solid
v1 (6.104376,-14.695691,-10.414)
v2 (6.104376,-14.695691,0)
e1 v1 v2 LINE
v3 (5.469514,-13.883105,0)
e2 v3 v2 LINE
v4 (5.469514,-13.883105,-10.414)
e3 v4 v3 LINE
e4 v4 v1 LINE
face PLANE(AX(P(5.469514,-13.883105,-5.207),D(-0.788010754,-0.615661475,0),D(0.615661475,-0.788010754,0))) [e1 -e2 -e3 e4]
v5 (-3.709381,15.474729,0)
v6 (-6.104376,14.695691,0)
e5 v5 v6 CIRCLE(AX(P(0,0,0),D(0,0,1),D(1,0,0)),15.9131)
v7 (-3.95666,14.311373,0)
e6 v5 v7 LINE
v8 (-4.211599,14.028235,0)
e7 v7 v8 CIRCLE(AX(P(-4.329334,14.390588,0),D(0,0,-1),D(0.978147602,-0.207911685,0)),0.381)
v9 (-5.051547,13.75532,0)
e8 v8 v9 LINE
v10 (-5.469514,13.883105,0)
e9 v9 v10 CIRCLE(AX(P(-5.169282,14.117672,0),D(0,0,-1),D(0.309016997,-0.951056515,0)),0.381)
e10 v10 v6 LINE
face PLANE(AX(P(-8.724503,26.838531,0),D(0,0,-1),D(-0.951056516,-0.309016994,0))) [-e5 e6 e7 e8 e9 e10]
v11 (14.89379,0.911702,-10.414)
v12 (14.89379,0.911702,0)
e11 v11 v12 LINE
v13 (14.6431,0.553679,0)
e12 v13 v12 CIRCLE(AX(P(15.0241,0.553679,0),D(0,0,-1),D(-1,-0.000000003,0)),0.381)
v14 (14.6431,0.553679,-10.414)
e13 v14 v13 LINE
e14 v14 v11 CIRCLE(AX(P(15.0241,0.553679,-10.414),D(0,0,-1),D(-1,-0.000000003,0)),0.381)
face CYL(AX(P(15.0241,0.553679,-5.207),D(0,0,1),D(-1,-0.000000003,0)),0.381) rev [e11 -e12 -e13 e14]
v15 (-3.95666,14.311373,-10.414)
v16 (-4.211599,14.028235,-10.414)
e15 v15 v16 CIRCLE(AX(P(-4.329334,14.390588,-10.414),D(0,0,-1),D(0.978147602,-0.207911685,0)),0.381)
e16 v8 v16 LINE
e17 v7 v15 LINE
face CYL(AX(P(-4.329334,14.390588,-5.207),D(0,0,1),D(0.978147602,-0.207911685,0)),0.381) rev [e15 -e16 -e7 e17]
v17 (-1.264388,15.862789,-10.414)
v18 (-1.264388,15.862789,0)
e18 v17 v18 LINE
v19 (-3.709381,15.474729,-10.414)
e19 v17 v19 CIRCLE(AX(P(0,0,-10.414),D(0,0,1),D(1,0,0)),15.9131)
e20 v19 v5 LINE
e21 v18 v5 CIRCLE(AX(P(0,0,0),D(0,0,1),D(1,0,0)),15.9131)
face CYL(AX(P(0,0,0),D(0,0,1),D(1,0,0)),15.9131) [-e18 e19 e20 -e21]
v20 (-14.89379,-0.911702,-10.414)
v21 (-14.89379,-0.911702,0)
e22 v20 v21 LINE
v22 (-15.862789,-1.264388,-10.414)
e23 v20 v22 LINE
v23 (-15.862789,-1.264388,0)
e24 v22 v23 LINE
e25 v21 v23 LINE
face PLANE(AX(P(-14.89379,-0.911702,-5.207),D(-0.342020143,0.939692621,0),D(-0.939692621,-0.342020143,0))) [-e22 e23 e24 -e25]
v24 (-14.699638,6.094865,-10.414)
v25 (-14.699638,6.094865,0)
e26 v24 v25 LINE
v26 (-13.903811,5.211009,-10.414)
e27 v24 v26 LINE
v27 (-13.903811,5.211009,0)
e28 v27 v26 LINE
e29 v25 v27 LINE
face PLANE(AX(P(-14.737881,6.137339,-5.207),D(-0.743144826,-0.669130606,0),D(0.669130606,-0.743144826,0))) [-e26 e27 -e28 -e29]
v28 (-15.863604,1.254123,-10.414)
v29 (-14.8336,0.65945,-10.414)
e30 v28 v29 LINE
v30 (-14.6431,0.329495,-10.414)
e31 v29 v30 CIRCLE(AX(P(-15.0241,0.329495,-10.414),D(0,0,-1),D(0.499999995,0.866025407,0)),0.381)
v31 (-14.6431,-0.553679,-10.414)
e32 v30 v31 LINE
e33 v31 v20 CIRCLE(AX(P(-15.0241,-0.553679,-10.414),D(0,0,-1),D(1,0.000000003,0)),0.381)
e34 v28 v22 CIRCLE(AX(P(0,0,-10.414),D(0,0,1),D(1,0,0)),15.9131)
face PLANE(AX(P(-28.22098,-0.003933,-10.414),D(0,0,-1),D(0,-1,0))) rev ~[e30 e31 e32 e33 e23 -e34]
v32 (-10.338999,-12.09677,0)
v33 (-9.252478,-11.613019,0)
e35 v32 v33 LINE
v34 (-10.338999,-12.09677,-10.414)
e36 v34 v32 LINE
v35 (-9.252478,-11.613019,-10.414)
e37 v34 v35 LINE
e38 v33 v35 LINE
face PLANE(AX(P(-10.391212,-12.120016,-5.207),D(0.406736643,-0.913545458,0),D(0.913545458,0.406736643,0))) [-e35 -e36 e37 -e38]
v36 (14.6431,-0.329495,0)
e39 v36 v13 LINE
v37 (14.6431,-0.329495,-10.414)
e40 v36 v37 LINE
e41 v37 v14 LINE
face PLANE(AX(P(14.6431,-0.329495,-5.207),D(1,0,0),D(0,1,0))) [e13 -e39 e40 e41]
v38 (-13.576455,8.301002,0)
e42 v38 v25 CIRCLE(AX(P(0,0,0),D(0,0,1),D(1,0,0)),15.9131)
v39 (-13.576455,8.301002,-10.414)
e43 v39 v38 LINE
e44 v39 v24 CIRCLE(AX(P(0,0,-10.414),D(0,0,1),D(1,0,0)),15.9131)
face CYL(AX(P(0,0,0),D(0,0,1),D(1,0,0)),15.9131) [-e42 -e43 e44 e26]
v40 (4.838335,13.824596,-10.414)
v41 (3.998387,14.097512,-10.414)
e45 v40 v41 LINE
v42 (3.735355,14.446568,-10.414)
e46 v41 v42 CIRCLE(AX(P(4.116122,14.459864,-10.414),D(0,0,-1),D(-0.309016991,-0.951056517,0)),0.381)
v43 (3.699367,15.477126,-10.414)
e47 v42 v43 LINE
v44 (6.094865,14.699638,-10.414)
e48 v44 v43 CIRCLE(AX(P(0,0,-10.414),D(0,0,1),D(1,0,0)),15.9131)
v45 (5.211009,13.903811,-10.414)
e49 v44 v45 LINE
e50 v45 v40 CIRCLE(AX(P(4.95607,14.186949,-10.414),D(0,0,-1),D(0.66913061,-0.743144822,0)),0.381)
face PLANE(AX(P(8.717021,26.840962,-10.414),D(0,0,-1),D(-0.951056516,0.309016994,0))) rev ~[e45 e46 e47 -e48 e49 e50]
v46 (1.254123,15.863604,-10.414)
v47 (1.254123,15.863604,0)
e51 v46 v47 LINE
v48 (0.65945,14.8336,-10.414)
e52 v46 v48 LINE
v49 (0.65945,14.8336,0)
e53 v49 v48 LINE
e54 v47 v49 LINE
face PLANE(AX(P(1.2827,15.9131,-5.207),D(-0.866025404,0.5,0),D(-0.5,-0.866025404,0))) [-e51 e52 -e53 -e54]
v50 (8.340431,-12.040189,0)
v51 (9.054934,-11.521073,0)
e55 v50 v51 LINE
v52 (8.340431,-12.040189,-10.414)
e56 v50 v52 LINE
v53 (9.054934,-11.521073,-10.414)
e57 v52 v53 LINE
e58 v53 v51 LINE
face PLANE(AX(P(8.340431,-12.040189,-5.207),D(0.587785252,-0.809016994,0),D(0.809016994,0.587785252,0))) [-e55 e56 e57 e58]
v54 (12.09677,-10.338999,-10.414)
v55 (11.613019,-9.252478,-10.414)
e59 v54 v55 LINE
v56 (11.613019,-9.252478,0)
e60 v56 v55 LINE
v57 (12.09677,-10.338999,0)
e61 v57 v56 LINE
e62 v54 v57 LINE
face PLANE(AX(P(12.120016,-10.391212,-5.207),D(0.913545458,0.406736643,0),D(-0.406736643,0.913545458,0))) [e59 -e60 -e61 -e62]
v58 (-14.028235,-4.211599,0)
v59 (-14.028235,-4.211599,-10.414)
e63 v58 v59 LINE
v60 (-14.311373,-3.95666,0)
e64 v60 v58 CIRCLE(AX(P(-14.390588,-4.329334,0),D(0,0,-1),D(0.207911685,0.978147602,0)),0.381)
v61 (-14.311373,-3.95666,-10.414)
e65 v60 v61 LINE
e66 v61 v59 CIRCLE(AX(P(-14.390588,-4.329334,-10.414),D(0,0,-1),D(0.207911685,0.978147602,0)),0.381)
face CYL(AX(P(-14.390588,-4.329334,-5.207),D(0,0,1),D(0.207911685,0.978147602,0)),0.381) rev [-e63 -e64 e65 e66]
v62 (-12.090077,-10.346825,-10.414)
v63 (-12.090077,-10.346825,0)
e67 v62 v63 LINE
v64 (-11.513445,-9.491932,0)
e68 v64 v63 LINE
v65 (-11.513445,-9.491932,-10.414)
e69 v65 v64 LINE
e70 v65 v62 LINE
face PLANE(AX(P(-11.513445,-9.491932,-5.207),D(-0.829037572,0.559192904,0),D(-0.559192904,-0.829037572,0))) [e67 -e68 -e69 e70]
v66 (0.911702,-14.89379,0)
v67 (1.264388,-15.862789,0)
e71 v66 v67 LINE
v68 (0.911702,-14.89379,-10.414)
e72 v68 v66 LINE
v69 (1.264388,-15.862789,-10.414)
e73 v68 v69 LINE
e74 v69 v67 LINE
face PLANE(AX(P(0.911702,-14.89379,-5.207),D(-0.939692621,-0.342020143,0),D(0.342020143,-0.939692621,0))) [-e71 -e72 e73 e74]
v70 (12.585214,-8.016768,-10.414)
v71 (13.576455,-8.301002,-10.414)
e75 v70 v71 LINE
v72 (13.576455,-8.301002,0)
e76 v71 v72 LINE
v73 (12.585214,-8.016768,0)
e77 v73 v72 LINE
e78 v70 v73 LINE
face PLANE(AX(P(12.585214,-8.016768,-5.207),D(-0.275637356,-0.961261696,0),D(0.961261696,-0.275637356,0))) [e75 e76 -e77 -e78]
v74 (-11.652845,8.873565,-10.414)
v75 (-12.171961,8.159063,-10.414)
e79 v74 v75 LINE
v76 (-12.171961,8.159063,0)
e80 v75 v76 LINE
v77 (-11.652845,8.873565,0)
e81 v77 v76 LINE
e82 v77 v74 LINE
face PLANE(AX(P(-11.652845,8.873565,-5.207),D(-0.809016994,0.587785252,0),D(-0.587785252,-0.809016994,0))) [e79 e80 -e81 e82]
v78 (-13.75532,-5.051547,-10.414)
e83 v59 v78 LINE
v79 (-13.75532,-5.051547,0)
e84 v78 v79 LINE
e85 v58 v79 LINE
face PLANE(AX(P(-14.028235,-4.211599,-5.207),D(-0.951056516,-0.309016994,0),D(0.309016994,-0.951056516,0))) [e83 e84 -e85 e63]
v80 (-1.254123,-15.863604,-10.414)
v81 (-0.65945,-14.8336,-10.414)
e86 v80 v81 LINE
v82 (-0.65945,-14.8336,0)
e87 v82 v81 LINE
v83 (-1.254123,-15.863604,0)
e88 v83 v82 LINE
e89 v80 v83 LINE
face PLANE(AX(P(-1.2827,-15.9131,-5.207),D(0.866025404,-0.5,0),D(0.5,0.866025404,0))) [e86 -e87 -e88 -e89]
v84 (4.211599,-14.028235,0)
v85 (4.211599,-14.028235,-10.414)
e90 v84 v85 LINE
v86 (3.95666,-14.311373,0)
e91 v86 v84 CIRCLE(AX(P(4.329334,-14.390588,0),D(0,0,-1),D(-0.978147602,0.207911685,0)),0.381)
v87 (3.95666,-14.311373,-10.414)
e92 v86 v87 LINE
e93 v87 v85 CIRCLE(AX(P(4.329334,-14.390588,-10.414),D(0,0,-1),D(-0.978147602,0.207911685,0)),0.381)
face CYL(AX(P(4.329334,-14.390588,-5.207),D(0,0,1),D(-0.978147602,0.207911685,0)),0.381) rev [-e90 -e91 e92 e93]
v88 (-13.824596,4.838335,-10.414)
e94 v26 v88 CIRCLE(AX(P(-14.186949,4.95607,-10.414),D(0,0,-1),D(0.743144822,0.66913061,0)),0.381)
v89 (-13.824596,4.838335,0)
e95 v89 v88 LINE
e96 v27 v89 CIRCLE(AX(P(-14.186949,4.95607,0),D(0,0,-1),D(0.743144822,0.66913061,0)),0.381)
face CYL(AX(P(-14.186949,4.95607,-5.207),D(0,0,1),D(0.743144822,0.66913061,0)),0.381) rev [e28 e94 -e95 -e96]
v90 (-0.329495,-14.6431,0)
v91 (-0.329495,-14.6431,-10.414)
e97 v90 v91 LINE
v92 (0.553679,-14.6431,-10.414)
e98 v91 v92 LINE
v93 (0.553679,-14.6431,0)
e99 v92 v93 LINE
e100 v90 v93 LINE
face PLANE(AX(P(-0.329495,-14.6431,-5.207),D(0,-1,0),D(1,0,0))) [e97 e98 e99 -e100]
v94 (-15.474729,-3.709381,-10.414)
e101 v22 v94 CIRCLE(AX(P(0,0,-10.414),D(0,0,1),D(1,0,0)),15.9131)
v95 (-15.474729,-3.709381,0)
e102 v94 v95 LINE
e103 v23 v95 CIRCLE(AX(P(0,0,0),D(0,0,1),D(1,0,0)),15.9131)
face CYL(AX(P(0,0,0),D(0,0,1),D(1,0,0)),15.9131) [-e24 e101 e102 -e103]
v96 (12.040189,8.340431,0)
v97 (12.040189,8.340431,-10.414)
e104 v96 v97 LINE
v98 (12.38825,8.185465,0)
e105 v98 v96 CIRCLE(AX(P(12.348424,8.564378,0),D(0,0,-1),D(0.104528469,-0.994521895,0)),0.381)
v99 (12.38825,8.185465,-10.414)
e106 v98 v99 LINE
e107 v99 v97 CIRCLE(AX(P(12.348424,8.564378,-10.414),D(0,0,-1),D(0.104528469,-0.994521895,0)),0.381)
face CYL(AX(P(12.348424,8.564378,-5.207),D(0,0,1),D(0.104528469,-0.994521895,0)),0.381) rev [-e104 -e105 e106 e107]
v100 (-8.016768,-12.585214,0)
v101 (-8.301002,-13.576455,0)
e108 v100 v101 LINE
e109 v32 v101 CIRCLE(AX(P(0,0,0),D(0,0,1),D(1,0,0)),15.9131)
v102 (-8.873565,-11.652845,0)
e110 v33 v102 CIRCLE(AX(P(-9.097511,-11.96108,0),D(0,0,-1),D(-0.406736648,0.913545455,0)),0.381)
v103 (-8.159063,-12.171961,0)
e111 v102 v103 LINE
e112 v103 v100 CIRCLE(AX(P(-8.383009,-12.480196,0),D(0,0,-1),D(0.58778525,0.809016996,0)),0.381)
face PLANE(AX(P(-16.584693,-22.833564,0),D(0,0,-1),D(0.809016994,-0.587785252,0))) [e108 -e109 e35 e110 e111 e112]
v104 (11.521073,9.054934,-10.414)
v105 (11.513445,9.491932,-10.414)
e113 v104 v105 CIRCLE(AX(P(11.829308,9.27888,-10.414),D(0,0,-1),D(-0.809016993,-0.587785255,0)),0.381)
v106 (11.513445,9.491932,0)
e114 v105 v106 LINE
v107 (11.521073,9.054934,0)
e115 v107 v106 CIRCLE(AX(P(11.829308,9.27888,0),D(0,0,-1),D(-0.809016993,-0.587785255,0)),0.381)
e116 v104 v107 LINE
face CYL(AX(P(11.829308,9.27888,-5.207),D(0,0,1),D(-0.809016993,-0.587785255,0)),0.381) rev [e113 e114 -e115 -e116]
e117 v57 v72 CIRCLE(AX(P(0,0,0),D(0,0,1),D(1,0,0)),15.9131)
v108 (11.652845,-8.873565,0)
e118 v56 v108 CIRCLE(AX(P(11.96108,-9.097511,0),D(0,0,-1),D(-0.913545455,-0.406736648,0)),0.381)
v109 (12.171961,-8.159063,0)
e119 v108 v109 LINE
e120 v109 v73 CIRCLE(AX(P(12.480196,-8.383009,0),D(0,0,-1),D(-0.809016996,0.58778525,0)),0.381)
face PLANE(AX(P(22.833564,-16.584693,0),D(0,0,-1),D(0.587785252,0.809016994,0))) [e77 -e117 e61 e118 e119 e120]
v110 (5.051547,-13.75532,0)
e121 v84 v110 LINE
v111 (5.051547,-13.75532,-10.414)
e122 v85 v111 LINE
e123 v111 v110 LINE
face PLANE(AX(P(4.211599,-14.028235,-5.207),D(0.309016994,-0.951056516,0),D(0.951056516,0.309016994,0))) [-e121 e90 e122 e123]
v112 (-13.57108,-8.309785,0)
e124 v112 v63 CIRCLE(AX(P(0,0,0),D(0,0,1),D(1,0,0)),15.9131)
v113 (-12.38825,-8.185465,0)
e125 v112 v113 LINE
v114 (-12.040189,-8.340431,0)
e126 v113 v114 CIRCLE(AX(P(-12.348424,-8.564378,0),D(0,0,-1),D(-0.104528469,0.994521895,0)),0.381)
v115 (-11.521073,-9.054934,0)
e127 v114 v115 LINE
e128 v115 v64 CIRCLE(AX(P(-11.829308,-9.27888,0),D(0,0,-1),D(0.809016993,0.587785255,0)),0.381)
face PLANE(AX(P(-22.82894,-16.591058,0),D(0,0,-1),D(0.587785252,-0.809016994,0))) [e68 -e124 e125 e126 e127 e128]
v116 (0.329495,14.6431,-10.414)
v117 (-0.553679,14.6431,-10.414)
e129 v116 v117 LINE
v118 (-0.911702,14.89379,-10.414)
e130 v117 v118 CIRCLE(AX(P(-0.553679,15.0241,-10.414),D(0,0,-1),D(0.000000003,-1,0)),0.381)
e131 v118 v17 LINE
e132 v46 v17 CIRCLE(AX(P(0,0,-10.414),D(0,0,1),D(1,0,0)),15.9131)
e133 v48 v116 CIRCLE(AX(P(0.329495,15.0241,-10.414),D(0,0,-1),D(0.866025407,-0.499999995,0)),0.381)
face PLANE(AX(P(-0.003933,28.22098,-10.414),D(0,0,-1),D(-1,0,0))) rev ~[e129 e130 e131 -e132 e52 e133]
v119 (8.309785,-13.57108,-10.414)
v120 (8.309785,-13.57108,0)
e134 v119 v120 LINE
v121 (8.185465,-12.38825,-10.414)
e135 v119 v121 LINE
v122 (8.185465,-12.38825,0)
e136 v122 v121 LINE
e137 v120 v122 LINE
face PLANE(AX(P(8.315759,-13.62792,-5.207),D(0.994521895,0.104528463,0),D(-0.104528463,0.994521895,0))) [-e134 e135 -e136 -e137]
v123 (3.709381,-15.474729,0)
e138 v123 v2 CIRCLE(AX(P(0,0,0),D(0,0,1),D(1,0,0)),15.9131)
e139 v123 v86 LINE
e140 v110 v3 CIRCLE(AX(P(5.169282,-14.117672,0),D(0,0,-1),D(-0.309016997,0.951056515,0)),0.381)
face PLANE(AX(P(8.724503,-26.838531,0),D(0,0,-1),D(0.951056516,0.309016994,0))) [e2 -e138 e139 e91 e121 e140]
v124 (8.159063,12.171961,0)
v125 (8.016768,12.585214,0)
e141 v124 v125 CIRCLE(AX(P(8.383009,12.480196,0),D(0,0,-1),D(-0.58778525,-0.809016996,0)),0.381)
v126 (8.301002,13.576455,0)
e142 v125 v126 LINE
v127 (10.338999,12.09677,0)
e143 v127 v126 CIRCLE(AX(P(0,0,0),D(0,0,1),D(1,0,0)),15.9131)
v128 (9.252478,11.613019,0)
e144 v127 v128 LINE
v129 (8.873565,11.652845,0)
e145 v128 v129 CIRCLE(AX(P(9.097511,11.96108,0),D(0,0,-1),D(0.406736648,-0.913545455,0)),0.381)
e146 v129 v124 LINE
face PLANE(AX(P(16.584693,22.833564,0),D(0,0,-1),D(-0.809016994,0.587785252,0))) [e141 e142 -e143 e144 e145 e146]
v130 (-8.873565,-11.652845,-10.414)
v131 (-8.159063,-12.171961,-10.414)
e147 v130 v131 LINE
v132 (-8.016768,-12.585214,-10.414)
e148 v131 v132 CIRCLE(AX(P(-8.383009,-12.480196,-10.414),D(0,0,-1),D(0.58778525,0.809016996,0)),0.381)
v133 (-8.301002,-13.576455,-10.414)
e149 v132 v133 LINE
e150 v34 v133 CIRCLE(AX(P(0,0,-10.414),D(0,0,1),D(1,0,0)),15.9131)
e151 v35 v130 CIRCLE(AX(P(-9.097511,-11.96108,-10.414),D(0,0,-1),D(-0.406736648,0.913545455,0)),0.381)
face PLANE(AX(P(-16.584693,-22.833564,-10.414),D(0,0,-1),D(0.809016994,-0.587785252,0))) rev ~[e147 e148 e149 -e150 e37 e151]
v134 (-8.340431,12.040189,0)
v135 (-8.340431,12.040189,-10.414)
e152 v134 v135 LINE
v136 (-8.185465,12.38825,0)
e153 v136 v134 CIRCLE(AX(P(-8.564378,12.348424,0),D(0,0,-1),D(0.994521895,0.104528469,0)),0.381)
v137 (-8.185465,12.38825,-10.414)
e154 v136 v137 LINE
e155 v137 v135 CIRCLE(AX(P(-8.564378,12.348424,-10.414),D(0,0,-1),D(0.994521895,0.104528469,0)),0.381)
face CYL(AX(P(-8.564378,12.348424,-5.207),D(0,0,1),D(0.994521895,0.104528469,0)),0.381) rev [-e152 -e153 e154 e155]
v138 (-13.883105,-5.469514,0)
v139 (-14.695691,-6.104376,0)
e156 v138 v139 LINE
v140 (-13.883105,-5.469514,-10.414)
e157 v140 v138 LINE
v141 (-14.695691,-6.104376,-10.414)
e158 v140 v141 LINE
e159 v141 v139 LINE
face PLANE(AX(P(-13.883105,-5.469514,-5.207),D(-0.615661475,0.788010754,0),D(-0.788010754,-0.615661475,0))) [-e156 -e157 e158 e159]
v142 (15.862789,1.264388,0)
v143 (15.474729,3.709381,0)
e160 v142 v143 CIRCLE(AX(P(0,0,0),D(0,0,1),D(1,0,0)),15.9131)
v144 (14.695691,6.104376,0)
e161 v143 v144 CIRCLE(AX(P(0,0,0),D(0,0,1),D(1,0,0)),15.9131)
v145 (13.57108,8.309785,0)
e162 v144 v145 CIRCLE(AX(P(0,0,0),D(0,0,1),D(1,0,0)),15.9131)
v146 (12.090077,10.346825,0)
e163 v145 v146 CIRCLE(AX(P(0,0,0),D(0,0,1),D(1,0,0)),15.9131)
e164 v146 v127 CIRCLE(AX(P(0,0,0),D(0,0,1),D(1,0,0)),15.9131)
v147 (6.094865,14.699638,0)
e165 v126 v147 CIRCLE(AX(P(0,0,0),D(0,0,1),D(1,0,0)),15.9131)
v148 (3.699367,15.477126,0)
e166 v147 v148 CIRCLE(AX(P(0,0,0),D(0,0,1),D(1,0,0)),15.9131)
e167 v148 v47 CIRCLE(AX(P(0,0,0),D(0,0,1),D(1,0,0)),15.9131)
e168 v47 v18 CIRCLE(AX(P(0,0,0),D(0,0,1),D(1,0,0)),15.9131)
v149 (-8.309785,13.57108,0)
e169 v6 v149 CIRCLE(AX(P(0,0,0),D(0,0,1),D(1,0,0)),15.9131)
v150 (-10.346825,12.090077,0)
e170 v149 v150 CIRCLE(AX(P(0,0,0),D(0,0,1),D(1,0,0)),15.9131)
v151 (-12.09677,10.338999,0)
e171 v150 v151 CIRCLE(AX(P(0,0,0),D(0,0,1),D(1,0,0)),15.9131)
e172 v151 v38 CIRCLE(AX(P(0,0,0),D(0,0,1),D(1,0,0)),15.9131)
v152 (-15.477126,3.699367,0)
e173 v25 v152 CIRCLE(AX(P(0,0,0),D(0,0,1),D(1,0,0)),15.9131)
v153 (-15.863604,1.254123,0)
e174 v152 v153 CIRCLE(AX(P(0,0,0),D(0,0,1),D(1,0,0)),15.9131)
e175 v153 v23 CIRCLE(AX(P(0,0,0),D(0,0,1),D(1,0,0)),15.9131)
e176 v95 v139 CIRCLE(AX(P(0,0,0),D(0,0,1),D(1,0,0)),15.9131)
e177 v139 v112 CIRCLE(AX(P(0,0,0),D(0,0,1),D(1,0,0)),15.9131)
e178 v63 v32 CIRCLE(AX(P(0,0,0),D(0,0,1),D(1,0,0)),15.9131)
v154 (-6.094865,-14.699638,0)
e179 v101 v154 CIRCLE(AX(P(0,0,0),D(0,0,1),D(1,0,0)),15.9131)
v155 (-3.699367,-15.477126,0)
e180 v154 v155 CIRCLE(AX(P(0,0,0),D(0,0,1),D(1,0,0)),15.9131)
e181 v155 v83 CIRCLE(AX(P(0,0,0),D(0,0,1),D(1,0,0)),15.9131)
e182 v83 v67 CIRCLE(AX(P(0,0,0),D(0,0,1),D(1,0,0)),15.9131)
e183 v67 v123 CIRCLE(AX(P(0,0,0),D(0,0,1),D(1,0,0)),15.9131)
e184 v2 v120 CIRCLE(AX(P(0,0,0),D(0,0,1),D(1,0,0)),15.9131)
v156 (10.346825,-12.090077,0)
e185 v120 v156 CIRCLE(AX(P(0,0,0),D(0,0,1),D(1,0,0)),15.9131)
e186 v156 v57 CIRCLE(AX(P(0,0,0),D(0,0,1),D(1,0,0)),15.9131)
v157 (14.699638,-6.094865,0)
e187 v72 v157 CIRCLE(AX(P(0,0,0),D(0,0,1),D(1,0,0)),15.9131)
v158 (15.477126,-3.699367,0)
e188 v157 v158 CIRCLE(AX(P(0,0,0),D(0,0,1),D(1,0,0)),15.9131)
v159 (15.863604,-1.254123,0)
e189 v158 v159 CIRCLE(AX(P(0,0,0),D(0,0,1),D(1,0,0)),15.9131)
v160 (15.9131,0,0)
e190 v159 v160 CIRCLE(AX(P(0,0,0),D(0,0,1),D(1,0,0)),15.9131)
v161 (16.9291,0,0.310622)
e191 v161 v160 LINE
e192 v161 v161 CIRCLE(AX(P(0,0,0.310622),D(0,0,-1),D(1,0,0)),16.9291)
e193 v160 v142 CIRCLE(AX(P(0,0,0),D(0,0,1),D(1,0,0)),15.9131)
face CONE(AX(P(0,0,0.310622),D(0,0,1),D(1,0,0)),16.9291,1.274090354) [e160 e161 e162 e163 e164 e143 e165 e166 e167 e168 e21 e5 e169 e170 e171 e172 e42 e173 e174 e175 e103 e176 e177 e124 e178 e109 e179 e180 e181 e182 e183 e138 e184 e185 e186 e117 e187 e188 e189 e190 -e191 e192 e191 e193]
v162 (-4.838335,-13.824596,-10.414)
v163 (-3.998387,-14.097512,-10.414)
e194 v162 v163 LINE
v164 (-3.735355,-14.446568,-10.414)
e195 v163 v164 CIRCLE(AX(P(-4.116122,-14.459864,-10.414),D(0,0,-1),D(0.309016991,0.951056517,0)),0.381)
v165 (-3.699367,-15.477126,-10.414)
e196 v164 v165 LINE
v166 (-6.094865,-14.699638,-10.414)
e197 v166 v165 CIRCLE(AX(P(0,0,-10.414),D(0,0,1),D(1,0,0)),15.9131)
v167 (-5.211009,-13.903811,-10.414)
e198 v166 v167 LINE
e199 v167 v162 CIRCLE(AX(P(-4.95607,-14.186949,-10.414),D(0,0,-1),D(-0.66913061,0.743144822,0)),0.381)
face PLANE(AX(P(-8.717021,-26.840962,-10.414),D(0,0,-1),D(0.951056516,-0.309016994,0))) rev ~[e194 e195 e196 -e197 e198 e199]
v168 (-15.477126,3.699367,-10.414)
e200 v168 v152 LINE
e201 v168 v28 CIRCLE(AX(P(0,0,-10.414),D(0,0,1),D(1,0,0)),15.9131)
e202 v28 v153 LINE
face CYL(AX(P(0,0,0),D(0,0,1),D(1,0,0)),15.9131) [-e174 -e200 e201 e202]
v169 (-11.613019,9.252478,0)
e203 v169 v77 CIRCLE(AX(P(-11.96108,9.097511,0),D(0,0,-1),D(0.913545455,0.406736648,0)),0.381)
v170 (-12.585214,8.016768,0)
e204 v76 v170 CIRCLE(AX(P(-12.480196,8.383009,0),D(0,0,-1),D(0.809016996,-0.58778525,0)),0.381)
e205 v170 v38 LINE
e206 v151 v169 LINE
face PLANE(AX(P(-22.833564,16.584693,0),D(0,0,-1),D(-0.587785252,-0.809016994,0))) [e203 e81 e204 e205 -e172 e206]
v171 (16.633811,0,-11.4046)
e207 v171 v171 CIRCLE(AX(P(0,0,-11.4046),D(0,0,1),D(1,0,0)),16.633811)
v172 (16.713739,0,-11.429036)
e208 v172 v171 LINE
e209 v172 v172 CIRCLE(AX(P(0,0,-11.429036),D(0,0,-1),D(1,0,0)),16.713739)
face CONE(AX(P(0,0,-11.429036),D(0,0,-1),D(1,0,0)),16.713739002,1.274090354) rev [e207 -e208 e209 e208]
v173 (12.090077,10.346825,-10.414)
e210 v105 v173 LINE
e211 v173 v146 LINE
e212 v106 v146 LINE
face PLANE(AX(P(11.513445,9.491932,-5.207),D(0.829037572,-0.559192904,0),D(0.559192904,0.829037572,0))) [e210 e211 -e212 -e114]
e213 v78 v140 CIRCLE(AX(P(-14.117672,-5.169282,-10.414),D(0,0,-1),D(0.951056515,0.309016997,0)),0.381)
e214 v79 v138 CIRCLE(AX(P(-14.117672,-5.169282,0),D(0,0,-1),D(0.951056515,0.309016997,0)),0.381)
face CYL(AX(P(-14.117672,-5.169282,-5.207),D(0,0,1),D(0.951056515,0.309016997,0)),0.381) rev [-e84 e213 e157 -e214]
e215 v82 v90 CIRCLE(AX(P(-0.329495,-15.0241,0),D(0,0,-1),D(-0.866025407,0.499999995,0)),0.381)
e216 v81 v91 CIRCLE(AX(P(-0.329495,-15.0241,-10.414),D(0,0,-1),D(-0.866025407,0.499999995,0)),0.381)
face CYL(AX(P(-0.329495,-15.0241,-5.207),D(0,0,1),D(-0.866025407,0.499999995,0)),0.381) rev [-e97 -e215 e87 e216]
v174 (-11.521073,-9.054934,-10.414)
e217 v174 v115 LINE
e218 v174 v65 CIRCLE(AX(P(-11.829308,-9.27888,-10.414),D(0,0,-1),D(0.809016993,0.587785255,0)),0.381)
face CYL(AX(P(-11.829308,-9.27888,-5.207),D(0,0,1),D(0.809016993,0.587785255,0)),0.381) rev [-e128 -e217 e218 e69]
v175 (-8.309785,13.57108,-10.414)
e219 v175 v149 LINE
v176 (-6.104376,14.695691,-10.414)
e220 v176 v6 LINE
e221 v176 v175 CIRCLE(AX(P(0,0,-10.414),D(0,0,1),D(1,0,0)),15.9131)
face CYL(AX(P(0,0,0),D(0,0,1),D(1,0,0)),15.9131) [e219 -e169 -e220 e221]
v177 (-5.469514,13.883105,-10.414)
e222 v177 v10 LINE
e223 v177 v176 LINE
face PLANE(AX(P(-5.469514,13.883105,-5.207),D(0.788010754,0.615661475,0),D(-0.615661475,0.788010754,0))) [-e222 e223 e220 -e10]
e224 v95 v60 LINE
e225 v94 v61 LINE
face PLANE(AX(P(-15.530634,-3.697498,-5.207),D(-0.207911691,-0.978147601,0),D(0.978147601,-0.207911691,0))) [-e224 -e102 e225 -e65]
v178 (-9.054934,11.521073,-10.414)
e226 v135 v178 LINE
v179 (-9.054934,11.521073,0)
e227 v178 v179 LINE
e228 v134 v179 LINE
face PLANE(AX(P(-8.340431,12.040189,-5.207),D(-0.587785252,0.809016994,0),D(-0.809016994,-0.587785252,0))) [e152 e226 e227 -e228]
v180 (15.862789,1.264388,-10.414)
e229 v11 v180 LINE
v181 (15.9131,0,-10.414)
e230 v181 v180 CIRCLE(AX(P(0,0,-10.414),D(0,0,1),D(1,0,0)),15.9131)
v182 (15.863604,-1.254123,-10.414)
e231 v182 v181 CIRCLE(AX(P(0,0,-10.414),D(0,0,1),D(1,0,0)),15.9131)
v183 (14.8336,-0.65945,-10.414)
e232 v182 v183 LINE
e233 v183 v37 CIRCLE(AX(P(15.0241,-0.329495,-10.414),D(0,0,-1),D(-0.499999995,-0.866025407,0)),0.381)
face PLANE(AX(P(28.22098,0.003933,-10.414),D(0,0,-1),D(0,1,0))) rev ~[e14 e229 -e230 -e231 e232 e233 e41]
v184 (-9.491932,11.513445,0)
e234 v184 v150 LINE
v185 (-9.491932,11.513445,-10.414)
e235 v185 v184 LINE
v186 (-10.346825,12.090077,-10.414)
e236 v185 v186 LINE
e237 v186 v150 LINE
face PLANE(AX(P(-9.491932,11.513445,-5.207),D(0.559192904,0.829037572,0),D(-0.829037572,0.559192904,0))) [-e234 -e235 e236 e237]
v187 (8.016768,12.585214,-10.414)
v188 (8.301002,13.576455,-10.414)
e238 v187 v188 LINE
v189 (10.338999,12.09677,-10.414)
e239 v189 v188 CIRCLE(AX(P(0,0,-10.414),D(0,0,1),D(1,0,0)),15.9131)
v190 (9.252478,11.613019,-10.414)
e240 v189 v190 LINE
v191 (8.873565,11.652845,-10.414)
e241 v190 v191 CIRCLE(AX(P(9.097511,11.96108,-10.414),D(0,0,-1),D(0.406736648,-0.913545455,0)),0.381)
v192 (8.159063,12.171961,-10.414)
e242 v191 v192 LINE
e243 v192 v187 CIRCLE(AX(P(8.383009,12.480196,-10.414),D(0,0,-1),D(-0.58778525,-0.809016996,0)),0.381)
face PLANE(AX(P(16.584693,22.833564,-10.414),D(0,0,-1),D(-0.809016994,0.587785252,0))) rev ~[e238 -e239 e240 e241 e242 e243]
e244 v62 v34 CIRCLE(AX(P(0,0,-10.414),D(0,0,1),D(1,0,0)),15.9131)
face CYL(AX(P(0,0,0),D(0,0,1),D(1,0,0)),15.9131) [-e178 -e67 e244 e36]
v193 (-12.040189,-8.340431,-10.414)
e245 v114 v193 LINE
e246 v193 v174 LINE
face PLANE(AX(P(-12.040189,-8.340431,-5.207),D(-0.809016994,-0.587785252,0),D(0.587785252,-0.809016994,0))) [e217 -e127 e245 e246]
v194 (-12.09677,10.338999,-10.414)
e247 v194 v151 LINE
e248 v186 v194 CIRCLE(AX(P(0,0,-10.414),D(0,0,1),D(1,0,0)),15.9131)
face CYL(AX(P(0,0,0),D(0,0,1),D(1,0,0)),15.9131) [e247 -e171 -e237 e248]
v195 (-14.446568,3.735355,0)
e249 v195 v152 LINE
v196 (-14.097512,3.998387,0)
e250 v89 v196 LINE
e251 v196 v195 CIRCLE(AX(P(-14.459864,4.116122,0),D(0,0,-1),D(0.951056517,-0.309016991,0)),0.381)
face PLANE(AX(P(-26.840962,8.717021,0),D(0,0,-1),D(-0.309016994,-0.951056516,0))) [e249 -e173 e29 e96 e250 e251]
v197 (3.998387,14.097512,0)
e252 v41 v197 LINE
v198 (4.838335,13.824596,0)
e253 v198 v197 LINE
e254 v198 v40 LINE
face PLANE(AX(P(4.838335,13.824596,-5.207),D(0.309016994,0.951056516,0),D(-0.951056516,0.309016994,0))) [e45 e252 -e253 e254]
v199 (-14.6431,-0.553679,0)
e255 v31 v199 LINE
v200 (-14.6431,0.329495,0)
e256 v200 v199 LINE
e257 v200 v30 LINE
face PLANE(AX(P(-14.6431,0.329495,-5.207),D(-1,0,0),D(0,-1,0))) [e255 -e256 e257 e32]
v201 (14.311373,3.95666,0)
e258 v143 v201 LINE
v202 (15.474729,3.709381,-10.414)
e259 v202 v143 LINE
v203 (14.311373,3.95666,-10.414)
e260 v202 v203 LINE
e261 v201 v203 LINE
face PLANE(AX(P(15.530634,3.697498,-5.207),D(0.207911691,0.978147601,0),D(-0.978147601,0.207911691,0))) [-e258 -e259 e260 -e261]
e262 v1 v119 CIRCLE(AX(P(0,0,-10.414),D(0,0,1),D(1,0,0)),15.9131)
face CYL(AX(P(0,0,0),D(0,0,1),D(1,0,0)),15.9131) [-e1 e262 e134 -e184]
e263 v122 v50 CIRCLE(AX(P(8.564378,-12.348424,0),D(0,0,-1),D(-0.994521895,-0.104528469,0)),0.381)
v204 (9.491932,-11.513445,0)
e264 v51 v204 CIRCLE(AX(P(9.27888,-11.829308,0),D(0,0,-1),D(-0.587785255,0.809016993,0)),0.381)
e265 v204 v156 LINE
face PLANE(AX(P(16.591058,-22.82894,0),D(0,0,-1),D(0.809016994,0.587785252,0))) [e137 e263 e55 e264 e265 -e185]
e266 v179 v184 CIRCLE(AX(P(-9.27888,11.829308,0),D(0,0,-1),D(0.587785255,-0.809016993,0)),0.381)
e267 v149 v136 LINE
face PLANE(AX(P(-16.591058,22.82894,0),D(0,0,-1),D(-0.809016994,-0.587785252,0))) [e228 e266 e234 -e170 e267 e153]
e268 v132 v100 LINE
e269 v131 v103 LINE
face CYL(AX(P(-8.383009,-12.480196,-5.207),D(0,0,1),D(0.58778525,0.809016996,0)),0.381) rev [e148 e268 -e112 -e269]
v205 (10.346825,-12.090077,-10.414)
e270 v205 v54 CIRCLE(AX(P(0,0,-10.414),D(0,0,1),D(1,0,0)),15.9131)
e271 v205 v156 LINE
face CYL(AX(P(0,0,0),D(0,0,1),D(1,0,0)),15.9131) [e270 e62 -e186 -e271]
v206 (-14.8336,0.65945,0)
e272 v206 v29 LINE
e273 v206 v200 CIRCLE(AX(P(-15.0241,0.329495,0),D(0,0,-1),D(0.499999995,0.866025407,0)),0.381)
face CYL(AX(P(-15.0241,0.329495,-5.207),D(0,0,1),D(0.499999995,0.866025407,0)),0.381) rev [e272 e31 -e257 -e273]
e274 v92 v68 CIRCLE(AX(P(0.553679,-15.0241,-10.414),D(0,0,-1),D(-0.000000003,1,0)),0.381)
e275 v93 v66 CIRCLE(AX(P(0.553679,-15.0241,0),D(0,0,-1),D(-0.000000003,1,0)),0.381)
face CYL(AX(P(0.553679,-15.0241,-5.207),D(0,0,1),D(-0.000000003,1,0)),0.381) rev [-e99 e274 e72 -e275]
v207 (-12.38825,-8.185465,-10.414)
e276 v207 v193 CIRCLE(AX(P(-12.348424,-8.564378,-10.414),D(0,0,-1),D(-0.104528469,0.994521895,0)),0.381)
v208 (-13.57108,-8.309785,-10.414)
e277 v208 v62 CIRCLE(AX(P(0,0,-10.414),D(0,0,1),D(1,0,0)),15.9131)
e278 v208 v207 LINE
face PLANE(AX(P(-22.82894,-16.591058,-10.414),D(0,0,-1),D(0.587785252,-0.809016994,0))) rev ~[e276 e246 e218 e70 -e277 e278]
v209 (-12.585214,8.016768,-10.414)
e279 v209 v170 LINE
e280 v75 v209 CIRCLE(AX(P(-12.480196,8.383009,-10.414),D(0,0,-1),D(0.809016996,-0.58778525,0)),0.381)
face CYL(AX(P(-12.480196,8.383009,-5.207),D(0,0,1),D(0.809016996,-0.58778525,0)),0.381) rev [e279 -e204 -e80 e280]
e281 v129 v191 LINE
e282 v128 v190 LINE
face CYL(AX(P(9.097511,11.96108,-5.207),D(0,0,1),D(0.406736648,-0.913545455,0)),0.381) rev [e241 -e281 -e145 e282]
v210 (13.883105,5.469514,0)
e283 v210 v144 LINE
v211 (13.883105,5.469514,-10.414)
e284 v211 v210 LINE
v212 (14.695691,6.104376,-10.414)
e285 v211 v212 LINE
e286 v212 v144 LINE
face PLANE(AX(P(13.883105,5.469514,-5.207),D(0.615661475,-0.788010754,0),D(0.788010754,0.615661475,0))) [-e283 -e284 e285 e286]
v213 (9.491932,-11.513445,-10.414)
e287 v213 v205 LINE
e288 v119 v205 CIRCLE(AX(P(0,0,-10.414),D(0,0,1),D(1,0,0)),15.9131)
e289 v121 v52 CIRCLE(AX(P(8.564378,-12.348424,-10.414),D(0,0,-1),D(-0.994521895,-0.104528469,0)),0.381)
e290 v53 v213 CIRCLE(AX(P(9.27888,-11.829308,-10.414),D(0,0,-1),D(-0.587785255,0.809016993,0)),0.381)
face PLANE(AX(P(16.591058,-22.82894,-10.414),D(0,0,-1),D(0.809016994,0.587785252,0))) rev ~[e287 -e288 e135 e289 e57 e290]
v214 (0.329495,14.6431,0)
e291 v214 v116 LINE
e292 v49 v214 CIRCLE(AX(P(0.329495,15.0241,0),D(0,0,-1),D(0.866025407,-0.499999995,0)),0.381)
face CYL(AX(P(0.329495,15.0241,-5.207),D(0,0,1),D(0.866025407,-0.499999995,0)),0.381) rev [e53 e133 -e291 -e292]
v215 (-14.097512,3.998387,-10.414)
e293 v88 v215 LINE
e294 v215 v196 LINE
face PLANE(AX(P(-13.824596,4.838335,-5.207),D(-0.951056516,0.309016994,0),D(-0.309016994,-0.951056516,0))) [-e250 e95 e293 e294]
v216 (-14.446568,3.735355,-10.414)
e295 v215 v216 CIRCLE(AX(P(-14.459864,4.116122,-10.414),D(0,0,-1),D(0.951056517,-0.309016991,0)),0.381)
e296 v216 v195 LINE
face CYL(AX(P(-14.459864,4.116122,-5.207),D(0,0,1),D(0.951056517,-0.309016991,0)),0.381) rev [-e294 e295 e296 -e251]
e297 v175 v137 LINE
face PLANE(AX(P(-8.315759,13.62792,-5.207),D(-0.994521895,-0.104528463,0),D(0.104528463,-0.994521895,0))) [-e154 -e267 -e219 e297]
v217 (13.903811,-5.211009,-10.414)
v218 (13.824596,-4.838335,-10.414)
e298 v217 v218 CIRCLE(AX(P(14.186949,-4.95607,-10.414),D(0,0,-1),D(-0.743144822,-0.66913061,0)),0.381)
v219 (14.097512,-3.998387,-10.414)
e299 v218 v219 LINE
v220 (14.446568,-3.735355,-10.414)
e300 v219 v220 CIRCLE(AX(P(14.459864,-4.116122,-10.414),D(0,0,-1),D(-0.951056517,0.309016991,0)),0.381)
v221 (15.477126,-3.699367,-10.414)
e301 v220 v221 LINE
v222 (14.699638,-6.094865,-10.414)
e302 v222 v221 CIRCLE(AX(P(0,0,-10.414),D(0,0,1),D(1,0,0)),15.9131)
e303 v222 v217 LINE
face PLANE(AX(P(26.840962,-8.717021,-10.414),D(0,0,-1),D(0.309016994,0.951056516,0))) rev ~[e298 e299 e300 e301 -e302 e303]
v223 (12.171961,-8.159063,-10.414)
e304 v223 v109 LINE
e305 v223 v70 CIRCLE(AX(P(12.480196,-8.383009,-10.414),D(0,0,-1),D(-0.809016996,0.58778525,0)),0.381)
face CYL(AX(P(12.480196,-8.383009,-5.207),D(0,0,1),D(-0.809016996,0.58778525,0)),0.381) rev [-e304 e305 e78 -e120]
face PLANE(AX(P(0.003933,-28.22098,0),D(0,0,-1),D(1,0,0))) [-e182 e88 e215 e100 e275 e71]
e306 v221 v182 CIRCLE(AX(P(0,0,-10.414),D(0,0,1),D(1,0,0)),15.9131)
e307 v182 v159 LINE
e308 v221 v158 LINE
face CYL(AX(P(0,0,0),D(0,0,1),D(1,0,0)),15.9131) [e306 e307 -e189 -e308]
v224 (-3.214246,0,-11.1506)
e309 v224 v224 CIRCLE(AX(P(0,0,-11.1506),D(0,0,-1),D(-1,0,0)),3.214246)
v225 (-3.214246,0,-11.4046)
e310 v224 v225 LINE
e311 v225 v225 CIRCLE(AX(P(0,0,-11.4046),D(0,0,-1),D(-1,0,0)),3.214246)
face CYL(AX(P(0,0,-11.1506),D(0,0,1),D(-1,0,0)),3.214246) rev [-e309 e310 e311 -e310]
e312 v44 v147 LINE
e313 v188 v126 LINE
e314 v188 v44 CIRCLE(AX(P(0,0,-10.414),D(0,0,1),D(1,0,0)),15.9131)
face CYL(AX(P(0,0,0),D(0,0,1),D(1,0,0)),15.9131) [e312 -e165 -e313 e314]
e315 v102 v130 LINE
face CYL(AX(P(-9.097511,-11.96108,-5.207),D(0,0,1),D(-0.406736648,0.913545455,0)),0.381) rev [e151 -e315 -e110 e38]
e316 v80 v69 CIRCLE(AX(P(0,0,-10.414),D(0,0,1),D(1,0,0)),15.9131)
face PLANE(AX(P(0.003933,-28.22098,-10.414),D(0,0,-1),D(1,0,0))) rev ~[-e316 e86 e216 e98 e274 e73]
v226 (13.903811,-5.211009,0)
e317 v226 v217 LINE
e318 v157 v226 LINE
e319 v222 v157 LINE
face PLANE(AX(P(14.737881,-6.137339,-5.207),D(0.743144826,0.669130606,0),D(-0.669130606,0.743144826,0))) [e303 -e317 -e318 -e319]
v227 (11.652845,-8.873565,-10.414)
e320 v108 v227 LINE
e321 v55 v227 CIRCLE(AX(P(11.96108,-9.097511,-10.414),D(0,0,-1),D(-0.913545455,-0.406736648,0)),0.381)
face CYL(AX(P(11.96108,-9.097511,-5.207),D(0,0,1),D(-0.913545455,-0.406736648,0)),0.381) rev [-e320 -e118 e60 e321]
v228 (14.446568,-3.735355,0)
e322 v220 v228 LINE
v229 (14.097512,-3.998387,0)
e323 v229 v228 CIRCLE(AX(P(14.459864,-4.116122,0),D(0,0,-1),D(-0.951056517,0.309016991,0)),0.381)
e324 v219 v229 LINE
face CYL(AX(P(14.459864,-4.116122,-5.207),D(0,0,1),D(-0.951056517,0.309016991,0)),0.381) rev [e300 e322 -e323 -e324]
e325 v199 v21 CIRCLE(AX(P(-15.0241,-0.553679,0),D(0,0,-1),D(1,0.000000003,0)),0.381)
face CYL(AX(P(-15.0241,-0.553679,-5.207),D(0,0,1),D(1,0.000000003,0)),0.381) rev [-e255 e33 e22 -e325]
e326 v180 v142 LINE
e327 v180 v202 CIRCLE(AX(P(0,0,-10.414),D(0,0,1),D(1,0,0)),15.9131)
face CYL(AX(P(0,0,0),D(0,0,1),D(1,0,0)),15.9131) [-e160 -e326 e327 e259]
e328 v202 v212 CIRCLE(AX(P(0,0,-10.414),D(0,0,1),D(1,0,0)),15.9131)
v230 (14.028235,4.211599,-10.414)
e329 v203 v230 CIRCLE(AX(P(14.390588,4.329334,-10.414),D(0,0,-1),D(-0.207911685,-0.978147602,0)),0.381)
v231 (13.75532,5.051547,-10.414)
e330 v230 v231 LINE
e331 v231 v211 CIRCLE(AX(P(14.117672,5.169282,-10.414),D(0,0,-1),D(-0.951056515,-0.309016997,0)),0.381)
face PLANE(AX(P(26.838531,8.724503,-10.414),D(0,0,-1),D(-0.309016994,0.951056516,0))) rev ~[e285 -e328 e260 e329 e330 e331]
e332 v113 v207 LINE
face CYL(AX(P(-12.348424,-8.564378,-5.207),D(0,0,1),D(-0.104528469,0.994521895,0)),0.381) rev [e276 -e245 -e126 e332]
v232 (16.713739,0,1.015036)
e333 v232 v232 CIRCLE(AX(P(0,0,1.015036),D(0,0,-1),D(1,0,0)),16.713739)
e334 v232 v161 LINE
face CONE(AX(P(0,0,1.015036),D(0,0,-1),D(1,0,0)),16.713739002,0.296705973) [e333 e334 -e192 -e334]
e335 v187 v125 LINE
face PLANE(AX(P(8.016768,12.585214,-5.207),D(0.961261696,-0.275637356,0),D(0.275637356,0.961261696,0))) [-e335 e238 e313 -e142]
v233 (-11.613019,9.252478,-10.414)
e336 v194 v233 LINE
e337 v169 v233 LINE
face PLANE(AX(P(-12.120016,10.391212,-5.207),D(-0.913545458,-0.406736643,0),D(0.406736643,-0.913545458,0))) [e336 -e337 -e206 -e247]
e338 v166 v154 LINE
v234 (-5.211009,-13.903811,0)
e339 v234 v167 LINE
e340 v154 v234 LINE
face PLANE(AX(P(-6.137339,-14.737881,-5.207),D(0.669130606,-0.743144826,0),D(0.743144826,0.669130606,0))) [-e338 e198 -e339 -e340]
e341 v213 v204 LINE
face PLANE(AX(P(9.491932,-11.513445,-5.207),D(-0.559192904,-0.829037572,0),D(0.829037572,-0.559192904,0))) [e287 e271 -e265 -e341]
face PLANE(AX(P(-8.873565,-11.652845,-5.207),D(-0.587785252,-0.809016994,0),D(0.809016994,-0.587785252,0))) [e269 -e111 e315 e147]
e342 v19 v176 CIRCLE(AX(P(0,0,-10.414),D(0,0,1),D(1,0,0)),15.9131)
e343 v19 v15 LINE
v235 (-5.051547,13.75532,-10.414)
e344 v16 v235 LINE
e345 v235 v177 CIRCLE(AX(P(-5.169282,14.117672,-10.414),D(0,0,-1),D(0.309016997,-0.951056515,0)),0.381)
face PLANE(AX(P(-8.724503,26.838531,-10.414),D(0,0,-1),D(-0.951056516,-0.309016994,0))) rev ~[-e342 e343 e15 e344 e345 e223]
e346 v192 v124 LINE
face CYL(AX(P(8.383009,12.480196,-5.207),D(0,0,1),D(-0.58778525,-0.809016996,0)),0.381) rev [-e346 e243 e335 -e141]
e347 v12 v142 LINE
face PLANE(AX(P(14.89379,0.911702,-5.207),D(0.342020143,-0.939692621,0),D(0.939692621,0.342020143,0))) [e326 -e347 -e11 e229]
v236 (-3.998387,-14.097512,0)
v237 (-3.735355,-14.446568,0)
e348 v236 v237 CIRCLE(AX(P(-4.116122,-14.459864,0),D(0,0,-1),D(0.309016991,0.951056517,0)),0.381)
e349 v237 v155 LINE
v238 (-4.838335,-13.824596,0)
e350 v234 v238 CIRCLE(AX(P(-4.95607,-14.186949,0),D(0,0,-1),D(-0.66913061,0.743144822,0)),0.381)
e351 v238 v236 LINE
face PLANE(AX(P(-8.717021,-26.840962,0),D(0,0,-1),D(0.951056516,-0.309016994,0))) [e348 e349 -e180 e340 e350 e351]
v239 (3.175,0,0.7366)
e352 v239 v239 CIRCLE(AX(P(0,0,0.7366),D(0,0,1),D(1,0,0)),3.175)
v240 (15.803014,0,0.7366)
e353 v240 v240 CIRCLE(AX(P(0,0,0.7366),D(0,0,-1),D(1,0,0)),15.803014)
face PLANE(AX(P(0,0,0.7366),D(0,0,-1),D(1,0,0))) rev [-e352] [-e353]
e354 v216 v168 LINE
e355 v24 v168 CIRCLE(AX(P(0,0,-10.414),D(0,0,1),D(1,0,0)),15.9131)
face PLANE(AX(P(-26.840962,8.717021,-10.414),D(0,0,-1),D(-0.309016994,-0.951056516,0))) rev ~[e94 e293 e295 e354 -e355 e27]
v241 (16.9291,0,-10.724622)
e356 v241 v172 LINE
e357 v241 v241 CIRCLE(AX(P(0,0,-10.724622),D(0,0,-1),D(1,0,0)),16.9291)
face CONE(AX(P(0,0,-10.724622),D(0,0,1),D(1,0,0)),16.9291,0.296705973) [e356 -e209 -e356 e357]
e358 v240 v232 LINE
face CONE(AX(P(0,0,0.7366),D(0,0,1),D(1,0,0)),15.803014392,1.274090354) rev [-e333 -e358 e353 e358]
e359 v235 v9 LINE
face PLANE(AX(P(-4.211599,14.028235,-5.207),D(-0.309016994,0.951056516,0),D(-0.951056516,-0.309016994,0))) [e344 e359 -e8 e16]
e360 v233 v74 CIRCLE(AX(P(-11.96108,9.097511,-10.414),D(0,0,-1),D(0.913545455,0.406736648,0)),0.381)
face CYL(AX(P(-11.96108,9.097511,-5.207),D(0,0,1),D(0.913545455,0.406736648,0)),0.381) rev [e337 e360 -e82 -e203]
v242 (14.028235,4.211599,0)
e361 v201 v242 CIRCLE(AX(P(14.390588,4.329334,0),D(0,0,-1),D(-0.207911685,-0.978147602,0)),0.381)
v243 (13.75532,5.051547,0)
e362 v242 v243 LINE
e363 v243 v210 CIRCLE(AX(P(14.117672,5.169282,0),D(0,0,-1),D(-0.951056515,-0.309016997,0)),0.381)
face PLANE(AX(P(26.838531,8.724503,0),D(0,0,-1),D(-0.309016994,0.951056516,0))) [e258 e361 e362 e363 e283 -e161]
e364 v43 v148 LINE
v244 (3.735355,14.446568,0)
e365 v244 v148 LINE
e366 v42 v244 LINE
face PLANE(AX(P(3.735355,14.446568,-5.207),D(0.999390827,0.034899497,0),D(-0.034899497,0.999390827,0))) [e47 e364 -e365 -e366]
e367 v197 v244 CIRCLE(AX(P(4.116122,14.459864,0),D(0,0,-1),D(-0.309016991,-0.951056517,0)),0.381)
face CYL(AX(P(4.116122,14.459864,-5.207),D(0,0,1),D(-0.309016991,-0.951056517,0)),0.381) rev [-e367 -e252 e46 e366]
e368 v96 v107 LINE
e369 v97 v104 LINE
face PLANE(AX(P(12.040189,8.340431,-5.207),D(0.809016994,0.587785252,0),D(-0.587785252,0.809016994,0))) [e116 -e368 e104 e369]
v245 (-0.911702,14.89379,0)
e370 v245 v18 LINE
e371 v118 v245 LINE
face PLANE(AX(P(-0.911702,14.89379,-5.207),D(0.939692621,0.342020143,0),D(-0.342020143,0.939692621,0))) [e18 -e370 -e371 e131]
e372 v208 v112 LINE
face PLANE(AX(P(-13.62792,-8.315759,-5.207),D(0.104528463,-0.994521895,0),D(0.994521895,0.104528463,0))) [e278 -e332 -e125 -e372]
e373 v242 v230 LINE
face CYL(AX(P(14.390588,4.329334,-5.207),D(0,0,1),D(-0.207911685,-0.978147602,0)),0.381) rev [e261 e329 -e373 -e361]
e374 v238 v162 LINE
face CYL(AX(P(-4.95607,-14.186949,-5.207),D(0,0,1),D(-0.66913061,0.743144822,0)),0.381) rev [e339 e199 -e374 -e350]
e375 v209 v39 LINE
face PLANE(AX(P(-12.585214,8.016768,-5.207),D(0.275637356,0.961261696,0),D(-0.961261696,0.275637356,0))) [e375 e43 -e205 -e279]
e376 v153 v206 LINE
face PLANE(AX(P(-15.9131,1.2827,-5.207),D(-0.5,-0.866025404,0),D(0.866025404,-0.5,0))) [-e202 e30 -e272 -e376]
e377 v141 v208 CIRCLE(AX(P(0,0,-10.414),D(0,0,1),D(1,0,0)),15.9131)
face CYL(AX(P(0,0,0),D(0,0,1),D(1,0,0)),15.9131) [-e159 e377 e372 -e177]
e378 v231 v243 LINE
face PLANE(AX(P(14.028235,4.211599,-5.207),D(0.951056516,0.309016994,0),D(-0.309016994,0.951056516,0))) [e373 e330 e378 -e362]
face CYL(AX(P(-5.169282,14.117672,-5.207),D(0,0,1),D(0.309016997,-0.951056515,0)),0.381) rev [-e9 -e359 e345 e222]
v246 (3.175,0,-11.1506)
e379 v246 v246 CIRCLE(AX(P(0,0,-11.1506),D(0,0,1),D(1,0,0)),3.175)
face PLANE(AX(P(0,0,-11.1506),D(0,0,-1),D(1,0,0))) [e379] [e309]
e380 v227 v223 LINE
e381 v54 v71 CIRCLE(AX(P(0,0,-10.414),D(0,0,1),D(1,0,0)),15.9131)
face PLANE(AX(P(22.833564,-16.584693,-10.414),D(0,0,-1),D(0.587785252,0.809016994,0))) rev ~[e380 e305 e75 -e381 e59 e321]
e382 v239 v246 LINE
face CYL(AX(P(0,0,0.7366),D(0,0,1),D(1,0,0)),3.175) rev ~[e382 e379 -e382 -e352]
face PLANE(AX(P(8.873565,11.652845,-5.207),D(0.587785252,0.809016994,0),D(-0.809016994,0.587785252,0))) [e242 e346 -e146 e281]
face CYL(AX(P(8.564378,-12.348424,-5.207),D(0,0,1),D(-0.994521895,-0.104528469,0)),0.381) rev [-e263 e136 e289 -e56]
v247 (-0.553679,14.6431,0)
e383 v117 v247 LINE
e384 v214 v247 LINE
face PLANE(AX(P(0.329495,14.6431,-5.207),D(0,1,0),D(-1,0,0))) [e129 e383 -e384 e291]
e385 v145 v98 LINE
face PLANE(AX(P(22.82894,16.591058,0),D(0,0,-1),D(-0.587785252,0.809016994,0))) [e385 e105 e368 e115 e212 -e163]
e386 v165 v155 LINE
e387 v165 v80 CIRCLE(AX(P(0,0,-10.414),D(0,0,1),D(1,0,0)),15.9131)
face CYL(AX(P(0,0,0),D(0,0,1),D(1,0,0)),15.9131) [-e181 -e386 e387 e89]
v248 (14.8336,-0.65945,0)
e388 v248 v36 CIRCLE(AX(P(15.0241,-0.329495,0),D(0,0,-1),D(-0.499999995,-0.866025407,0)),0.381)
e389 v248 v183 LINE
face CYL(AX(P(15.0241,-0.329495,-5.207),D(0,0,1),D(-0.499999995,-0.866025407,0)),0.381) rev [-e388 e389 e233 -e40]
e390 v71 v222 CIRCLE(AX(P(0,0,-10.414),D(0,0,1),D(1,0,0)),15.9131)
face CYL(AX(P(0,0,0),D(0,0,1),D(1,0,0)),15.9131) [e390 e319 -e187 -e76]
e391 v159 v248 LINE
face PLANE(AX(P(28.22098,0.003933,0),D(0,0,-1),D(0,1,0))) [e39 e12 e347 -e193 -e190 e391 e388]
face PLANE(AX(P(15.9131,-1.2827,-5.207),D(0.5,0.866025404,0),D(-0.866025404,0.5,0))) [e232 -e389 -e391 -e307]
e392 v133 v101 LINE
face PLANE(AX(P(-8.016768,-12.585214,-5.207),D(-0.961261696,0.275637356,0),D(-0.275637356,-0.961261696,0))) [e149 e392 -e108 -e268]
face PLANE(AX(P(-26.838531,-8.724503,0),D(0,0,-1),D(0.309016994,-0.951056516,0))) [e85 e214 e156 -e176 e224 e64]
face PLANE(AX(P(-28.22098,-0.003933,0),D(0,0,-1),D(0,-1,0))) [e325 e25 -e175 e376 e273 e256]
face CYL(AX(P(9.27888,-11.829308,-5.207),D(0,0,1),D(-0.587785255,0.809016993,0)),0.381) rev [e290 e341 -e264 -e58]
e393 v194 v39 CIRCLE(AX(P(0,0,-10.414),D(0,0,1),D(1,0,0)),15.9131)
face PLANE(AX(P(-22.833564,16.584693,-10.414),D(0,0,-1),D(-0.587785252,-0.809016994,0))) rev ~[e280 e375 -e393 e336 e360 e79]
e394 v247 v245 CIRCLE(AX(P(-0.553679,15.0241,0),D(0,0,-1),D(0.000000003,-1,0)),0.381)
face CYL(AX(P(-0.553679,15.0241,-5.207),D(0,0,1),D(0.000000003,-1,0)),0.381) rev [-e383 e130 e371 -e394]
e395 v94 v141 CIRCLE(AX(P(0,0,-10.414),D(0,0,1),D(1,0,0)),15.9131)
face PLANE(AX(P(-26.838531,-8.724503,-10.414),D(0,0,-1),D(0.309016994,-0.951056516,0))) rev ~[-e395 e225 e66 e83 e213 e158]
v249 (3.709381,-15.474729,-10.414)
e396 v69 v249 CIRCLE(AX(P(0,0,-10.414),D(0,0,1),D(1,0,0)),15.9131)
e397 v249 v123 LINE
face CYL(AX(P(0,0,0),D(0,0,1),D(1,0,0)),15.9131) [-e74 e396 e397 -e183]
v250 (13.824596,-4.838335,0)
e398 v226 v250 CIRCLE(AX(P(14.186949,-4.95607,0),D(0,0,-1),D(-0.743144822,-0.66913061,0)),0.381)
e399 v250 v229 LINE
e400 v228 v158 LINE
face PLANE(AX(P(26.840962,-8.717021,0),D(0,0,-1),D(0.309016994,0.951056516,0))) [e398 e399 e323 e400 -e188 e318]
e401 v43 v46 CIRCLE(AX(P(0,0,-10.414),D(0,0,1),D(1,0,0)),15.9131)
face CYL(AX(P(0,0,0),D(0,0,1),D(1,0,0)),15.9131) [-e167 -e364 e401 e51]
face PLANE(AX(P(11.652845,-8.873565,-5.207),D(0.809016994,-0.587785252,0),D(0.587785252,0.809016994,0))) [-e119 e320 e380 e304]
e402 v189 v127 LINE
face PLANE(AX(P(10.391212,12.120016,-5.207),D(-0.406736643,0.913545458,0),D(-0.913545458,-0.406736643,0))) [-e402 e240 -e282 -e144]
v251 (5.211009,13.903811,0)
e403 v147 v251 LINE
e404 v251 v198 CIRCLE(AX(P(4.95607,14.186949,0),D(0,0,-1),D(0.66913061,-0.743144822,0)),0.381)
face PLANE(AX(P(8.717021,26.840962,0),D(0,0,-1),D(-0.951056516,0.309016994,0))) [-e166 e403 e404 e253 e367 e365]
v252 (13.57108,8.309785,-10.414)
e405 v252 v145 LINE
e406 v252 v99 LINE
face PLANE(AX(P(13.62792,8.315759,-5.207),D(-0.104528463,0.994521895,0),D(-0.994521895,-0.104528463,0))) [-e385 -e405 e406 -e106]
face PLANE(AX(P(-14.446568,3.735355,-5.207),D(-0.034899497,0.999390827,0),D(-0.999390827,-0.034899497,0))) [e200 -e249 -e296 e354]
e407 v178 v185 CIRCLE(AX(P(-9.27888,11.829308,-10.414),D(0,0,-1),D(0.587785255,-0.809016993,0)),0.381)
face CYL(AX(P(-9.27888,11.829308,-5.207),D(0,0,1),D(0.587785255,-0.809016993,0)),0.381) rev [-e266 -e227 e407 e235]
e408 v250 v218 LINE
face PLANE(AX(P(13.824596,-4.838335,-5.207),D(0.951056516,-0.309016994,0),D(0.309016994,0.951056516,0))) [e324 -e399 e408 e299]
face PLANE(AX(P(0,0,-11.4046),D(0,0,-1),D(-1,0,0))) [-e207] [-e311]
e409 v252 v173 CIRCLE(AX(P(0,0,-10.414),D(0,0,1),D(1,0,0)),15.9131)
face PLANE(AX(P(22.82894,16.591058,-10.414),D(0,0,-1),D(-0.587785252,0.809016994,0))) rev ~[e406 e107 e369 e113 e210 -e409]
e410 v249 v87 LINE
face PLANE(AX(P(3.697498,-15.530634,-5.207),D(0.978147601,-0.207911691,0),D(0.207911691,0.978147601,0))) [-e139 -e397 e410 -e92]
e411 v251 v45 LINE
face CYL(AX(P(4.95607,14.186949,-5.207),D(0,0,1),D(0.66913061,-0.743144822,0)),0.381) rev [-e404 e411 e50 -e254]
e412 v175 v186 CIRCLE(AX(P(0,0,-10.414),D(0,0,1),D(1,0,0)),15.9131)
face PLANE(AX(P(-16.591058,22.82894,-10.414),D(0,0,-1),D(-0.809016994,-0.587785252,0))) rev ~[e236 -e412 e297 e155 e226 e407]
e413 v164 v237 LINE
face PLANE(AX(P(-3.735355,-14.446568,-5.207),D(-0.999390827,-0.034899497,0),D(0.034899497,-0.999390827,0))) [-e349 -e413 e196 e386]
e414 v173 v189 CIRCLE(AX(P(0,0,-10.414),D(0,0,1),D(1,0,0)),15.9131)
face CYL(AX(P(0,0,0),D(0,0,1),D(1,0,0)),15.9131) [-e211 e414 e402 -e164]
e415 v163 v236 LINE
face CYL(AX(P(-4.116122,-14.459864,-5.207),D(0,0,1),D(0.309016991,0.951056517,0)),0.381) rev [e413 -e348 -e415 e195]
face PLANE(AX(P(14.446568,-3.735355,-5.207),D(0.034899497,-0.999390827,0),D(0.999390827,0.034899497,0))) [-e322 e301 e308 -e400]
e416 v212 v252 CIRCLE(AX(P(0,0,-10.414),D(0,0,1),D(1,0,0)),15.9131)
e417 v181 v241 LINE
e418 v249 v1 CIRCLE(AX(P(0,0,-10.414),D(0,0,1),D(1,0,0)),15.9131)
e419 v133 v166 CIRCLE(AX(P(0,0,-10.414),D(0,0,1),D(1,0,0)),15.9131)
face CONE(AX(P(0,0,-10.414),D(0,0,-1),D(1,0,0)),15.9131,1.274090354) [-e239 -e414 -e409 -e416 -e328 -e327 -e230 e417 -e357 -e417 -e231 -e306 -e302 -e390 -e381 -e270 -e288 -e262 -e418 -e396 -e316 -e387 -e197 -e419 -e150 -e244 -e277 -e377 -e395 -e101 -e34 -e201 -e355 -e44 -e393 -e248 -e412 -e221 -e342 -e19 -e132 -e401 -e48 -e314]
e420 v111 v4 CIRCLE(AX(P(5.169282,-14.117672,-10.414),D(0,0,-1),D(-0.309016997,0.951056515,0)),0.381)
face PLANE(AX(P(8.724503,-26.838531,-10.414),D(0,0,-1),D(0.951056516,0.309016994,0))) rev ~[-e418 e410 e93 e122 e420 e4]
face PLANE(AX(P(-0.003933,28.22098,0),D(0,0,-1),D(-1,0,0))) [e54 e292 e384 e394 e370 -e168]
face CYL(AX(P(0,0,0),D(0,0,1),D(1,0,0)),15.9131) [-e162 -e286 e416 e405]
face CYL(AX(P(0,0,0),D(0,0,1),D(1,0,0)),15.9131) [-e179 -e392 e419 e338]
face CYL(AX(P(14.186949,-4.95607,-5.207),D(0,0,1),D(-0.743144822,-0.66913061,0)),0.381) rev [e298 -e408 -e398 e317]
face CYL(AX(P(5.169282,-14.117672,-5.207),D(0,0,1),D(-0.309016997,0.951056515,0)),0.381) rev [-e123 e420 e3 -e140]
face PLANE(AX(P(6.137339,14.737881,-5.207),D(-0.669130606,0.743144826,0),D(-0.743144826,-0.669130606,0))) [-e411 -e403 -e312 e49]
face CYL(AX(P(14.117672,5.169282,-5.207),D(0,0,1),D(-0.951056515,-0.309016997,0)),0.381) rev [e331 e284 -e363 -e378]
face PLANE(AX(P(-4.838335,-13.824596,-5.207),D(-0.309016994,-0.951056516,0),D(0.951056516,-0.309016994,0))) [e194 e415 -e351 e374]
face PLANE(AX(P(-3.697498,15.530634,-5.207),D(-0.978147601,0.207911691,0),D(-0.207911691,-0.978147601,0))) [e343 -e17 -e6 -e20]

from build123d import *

# Parameters (mm, degrees)
SKETCH1_R           = 15.9131
BASEPULLEY_DEPTH    = 10.414
GROOVE_DEPTH        = 5.207
GROOVES_COUNT       = 20
GROOVES_ANGLE       = 342
SKETCH4_W           = 0.254
SKETCH4_H           = 11.43
BORSKE_R            = 3.175
BORE_DEPTH          = 27.855010035
SKETCH7_R           = 16.713739002
SKETCH7_R_2         = 3.214245881
BOSS_EXTRUDE1_DEPTH = 0.254


with BuildPart() as part:
    # Sketch1 → BasePulley (new body)
    with BuildSketch(Plane.XY):
        Circle(SKETCH1_R)
    extrude(amount=-BASEPULLEY_DEPTH)

    # Sketch2 → Flange (revolve)
    with BuildSketch(Plane(origin=(0, 0, 0), x_dir=(0, 0, -1), z_dir=(1, 0, 0)), mode=Mode.PRIVATE) as flange_sk:
        Polygon((10.414, 15.9131), (10.724622372, 16.9291), (11.429036456, 16.713739002), (11.1506, 15.803014392), (11.1506, 0), (-0.7366, 0), (-0.7366, 15.803014392), (-1.015036456, 16.713739002), (-0.310622372, 16.9291), (0, 15.9131), align=None)
    revolve(flange_sk.sketch.rotate(Axis((0, 0, 0), (0, 0, -1)), 90), axis=Axis((0, 0, 0), (0, 0, -1)))

    # Sketch3 → Groove (cut, symmetric)
    with BuildSketch(Plane.XY.offset(-5.207)):
        with BuildLine():
            Line((-1.2827, 15.9131), (-1.2827, 41.3131))
            Line((-1.2827, 41.3131), (1.2827, 41.3131))
            Line((1.2827, 41.3131), (1.2827, 15.9131))
            Line((1.2827, 15.9131), (0.659450384, 14.8336))
            ThreePointArc((0.659450384, 14.8336), (0.519994706, 14.694144321), (0.329494706, 14.6431))
            Line((0.329494706, 14.6431), (-0.55367873, 14.6431))
            ThreePointArc((-0.55367873, 14.6431), (-0.772211353, 14.712003071), (-0.911701619, 14.893790325))
            Line((-0.911701619, 14.893790325), (-1.2827, 15.9131))
        make_face()
    groove = extrude(amount=GROOVE_DEPTH, both=True, mode=Mode.SUBTRACT)

    # Grooves: Groove ×20 about axis
    grooves_axis = Axis((0, 0, -10.414), (0, 0, 1))
    for i in range(1, GROOVES_COUNT):
        add(groove.rotate(grooves_axis, i * GROOVES_ANGLE / (GROOVES_COUNT - 1)), mode=Mode.SUBTRACT)

    # Sketch4 → BaseHub (revolve)
    with BuildSketch(Plane(origin=(0, 0, 0), x_dir=(0, 0, -1), z_dir=(1, 0, 0)), mode=Mode.PRIVATE) as basehub_sk:
        with Locations((-0.127, 5.715)):
            Rectangle(SKETCH4_W, SKETCH4_H)
    revolve(basehub_sk.sketch.rotate(Axis((0, 0, 0), (0, 0, -1)), 274.520210968), axis=Axis((0, 0, 0), (0, 0, -1)))

    # BorSke → Bore (cut, through all)
    with BuildSketch(Plane.XY.offset(0.7366)):
        Circle(BORSKE_R)
    extrude(amount=-BORE_DEPTH, mode=Mode.SUBTRACT)

    # Sketch7 → Boss-Extrude1 (add)
    with BuildSketch(Plane(origin=(0, 0, -11.1506), x_dir=(-1, 0, 0), z_dir=(0, 0, -1))):
        Circle(SKETCH7_R)
        Circle(SKETCH7_R_2, mode=Mode.SUBTRACT)
    extrude(amount=BOSS_EXTRUDE1_DEPTH)


solid = part.part
